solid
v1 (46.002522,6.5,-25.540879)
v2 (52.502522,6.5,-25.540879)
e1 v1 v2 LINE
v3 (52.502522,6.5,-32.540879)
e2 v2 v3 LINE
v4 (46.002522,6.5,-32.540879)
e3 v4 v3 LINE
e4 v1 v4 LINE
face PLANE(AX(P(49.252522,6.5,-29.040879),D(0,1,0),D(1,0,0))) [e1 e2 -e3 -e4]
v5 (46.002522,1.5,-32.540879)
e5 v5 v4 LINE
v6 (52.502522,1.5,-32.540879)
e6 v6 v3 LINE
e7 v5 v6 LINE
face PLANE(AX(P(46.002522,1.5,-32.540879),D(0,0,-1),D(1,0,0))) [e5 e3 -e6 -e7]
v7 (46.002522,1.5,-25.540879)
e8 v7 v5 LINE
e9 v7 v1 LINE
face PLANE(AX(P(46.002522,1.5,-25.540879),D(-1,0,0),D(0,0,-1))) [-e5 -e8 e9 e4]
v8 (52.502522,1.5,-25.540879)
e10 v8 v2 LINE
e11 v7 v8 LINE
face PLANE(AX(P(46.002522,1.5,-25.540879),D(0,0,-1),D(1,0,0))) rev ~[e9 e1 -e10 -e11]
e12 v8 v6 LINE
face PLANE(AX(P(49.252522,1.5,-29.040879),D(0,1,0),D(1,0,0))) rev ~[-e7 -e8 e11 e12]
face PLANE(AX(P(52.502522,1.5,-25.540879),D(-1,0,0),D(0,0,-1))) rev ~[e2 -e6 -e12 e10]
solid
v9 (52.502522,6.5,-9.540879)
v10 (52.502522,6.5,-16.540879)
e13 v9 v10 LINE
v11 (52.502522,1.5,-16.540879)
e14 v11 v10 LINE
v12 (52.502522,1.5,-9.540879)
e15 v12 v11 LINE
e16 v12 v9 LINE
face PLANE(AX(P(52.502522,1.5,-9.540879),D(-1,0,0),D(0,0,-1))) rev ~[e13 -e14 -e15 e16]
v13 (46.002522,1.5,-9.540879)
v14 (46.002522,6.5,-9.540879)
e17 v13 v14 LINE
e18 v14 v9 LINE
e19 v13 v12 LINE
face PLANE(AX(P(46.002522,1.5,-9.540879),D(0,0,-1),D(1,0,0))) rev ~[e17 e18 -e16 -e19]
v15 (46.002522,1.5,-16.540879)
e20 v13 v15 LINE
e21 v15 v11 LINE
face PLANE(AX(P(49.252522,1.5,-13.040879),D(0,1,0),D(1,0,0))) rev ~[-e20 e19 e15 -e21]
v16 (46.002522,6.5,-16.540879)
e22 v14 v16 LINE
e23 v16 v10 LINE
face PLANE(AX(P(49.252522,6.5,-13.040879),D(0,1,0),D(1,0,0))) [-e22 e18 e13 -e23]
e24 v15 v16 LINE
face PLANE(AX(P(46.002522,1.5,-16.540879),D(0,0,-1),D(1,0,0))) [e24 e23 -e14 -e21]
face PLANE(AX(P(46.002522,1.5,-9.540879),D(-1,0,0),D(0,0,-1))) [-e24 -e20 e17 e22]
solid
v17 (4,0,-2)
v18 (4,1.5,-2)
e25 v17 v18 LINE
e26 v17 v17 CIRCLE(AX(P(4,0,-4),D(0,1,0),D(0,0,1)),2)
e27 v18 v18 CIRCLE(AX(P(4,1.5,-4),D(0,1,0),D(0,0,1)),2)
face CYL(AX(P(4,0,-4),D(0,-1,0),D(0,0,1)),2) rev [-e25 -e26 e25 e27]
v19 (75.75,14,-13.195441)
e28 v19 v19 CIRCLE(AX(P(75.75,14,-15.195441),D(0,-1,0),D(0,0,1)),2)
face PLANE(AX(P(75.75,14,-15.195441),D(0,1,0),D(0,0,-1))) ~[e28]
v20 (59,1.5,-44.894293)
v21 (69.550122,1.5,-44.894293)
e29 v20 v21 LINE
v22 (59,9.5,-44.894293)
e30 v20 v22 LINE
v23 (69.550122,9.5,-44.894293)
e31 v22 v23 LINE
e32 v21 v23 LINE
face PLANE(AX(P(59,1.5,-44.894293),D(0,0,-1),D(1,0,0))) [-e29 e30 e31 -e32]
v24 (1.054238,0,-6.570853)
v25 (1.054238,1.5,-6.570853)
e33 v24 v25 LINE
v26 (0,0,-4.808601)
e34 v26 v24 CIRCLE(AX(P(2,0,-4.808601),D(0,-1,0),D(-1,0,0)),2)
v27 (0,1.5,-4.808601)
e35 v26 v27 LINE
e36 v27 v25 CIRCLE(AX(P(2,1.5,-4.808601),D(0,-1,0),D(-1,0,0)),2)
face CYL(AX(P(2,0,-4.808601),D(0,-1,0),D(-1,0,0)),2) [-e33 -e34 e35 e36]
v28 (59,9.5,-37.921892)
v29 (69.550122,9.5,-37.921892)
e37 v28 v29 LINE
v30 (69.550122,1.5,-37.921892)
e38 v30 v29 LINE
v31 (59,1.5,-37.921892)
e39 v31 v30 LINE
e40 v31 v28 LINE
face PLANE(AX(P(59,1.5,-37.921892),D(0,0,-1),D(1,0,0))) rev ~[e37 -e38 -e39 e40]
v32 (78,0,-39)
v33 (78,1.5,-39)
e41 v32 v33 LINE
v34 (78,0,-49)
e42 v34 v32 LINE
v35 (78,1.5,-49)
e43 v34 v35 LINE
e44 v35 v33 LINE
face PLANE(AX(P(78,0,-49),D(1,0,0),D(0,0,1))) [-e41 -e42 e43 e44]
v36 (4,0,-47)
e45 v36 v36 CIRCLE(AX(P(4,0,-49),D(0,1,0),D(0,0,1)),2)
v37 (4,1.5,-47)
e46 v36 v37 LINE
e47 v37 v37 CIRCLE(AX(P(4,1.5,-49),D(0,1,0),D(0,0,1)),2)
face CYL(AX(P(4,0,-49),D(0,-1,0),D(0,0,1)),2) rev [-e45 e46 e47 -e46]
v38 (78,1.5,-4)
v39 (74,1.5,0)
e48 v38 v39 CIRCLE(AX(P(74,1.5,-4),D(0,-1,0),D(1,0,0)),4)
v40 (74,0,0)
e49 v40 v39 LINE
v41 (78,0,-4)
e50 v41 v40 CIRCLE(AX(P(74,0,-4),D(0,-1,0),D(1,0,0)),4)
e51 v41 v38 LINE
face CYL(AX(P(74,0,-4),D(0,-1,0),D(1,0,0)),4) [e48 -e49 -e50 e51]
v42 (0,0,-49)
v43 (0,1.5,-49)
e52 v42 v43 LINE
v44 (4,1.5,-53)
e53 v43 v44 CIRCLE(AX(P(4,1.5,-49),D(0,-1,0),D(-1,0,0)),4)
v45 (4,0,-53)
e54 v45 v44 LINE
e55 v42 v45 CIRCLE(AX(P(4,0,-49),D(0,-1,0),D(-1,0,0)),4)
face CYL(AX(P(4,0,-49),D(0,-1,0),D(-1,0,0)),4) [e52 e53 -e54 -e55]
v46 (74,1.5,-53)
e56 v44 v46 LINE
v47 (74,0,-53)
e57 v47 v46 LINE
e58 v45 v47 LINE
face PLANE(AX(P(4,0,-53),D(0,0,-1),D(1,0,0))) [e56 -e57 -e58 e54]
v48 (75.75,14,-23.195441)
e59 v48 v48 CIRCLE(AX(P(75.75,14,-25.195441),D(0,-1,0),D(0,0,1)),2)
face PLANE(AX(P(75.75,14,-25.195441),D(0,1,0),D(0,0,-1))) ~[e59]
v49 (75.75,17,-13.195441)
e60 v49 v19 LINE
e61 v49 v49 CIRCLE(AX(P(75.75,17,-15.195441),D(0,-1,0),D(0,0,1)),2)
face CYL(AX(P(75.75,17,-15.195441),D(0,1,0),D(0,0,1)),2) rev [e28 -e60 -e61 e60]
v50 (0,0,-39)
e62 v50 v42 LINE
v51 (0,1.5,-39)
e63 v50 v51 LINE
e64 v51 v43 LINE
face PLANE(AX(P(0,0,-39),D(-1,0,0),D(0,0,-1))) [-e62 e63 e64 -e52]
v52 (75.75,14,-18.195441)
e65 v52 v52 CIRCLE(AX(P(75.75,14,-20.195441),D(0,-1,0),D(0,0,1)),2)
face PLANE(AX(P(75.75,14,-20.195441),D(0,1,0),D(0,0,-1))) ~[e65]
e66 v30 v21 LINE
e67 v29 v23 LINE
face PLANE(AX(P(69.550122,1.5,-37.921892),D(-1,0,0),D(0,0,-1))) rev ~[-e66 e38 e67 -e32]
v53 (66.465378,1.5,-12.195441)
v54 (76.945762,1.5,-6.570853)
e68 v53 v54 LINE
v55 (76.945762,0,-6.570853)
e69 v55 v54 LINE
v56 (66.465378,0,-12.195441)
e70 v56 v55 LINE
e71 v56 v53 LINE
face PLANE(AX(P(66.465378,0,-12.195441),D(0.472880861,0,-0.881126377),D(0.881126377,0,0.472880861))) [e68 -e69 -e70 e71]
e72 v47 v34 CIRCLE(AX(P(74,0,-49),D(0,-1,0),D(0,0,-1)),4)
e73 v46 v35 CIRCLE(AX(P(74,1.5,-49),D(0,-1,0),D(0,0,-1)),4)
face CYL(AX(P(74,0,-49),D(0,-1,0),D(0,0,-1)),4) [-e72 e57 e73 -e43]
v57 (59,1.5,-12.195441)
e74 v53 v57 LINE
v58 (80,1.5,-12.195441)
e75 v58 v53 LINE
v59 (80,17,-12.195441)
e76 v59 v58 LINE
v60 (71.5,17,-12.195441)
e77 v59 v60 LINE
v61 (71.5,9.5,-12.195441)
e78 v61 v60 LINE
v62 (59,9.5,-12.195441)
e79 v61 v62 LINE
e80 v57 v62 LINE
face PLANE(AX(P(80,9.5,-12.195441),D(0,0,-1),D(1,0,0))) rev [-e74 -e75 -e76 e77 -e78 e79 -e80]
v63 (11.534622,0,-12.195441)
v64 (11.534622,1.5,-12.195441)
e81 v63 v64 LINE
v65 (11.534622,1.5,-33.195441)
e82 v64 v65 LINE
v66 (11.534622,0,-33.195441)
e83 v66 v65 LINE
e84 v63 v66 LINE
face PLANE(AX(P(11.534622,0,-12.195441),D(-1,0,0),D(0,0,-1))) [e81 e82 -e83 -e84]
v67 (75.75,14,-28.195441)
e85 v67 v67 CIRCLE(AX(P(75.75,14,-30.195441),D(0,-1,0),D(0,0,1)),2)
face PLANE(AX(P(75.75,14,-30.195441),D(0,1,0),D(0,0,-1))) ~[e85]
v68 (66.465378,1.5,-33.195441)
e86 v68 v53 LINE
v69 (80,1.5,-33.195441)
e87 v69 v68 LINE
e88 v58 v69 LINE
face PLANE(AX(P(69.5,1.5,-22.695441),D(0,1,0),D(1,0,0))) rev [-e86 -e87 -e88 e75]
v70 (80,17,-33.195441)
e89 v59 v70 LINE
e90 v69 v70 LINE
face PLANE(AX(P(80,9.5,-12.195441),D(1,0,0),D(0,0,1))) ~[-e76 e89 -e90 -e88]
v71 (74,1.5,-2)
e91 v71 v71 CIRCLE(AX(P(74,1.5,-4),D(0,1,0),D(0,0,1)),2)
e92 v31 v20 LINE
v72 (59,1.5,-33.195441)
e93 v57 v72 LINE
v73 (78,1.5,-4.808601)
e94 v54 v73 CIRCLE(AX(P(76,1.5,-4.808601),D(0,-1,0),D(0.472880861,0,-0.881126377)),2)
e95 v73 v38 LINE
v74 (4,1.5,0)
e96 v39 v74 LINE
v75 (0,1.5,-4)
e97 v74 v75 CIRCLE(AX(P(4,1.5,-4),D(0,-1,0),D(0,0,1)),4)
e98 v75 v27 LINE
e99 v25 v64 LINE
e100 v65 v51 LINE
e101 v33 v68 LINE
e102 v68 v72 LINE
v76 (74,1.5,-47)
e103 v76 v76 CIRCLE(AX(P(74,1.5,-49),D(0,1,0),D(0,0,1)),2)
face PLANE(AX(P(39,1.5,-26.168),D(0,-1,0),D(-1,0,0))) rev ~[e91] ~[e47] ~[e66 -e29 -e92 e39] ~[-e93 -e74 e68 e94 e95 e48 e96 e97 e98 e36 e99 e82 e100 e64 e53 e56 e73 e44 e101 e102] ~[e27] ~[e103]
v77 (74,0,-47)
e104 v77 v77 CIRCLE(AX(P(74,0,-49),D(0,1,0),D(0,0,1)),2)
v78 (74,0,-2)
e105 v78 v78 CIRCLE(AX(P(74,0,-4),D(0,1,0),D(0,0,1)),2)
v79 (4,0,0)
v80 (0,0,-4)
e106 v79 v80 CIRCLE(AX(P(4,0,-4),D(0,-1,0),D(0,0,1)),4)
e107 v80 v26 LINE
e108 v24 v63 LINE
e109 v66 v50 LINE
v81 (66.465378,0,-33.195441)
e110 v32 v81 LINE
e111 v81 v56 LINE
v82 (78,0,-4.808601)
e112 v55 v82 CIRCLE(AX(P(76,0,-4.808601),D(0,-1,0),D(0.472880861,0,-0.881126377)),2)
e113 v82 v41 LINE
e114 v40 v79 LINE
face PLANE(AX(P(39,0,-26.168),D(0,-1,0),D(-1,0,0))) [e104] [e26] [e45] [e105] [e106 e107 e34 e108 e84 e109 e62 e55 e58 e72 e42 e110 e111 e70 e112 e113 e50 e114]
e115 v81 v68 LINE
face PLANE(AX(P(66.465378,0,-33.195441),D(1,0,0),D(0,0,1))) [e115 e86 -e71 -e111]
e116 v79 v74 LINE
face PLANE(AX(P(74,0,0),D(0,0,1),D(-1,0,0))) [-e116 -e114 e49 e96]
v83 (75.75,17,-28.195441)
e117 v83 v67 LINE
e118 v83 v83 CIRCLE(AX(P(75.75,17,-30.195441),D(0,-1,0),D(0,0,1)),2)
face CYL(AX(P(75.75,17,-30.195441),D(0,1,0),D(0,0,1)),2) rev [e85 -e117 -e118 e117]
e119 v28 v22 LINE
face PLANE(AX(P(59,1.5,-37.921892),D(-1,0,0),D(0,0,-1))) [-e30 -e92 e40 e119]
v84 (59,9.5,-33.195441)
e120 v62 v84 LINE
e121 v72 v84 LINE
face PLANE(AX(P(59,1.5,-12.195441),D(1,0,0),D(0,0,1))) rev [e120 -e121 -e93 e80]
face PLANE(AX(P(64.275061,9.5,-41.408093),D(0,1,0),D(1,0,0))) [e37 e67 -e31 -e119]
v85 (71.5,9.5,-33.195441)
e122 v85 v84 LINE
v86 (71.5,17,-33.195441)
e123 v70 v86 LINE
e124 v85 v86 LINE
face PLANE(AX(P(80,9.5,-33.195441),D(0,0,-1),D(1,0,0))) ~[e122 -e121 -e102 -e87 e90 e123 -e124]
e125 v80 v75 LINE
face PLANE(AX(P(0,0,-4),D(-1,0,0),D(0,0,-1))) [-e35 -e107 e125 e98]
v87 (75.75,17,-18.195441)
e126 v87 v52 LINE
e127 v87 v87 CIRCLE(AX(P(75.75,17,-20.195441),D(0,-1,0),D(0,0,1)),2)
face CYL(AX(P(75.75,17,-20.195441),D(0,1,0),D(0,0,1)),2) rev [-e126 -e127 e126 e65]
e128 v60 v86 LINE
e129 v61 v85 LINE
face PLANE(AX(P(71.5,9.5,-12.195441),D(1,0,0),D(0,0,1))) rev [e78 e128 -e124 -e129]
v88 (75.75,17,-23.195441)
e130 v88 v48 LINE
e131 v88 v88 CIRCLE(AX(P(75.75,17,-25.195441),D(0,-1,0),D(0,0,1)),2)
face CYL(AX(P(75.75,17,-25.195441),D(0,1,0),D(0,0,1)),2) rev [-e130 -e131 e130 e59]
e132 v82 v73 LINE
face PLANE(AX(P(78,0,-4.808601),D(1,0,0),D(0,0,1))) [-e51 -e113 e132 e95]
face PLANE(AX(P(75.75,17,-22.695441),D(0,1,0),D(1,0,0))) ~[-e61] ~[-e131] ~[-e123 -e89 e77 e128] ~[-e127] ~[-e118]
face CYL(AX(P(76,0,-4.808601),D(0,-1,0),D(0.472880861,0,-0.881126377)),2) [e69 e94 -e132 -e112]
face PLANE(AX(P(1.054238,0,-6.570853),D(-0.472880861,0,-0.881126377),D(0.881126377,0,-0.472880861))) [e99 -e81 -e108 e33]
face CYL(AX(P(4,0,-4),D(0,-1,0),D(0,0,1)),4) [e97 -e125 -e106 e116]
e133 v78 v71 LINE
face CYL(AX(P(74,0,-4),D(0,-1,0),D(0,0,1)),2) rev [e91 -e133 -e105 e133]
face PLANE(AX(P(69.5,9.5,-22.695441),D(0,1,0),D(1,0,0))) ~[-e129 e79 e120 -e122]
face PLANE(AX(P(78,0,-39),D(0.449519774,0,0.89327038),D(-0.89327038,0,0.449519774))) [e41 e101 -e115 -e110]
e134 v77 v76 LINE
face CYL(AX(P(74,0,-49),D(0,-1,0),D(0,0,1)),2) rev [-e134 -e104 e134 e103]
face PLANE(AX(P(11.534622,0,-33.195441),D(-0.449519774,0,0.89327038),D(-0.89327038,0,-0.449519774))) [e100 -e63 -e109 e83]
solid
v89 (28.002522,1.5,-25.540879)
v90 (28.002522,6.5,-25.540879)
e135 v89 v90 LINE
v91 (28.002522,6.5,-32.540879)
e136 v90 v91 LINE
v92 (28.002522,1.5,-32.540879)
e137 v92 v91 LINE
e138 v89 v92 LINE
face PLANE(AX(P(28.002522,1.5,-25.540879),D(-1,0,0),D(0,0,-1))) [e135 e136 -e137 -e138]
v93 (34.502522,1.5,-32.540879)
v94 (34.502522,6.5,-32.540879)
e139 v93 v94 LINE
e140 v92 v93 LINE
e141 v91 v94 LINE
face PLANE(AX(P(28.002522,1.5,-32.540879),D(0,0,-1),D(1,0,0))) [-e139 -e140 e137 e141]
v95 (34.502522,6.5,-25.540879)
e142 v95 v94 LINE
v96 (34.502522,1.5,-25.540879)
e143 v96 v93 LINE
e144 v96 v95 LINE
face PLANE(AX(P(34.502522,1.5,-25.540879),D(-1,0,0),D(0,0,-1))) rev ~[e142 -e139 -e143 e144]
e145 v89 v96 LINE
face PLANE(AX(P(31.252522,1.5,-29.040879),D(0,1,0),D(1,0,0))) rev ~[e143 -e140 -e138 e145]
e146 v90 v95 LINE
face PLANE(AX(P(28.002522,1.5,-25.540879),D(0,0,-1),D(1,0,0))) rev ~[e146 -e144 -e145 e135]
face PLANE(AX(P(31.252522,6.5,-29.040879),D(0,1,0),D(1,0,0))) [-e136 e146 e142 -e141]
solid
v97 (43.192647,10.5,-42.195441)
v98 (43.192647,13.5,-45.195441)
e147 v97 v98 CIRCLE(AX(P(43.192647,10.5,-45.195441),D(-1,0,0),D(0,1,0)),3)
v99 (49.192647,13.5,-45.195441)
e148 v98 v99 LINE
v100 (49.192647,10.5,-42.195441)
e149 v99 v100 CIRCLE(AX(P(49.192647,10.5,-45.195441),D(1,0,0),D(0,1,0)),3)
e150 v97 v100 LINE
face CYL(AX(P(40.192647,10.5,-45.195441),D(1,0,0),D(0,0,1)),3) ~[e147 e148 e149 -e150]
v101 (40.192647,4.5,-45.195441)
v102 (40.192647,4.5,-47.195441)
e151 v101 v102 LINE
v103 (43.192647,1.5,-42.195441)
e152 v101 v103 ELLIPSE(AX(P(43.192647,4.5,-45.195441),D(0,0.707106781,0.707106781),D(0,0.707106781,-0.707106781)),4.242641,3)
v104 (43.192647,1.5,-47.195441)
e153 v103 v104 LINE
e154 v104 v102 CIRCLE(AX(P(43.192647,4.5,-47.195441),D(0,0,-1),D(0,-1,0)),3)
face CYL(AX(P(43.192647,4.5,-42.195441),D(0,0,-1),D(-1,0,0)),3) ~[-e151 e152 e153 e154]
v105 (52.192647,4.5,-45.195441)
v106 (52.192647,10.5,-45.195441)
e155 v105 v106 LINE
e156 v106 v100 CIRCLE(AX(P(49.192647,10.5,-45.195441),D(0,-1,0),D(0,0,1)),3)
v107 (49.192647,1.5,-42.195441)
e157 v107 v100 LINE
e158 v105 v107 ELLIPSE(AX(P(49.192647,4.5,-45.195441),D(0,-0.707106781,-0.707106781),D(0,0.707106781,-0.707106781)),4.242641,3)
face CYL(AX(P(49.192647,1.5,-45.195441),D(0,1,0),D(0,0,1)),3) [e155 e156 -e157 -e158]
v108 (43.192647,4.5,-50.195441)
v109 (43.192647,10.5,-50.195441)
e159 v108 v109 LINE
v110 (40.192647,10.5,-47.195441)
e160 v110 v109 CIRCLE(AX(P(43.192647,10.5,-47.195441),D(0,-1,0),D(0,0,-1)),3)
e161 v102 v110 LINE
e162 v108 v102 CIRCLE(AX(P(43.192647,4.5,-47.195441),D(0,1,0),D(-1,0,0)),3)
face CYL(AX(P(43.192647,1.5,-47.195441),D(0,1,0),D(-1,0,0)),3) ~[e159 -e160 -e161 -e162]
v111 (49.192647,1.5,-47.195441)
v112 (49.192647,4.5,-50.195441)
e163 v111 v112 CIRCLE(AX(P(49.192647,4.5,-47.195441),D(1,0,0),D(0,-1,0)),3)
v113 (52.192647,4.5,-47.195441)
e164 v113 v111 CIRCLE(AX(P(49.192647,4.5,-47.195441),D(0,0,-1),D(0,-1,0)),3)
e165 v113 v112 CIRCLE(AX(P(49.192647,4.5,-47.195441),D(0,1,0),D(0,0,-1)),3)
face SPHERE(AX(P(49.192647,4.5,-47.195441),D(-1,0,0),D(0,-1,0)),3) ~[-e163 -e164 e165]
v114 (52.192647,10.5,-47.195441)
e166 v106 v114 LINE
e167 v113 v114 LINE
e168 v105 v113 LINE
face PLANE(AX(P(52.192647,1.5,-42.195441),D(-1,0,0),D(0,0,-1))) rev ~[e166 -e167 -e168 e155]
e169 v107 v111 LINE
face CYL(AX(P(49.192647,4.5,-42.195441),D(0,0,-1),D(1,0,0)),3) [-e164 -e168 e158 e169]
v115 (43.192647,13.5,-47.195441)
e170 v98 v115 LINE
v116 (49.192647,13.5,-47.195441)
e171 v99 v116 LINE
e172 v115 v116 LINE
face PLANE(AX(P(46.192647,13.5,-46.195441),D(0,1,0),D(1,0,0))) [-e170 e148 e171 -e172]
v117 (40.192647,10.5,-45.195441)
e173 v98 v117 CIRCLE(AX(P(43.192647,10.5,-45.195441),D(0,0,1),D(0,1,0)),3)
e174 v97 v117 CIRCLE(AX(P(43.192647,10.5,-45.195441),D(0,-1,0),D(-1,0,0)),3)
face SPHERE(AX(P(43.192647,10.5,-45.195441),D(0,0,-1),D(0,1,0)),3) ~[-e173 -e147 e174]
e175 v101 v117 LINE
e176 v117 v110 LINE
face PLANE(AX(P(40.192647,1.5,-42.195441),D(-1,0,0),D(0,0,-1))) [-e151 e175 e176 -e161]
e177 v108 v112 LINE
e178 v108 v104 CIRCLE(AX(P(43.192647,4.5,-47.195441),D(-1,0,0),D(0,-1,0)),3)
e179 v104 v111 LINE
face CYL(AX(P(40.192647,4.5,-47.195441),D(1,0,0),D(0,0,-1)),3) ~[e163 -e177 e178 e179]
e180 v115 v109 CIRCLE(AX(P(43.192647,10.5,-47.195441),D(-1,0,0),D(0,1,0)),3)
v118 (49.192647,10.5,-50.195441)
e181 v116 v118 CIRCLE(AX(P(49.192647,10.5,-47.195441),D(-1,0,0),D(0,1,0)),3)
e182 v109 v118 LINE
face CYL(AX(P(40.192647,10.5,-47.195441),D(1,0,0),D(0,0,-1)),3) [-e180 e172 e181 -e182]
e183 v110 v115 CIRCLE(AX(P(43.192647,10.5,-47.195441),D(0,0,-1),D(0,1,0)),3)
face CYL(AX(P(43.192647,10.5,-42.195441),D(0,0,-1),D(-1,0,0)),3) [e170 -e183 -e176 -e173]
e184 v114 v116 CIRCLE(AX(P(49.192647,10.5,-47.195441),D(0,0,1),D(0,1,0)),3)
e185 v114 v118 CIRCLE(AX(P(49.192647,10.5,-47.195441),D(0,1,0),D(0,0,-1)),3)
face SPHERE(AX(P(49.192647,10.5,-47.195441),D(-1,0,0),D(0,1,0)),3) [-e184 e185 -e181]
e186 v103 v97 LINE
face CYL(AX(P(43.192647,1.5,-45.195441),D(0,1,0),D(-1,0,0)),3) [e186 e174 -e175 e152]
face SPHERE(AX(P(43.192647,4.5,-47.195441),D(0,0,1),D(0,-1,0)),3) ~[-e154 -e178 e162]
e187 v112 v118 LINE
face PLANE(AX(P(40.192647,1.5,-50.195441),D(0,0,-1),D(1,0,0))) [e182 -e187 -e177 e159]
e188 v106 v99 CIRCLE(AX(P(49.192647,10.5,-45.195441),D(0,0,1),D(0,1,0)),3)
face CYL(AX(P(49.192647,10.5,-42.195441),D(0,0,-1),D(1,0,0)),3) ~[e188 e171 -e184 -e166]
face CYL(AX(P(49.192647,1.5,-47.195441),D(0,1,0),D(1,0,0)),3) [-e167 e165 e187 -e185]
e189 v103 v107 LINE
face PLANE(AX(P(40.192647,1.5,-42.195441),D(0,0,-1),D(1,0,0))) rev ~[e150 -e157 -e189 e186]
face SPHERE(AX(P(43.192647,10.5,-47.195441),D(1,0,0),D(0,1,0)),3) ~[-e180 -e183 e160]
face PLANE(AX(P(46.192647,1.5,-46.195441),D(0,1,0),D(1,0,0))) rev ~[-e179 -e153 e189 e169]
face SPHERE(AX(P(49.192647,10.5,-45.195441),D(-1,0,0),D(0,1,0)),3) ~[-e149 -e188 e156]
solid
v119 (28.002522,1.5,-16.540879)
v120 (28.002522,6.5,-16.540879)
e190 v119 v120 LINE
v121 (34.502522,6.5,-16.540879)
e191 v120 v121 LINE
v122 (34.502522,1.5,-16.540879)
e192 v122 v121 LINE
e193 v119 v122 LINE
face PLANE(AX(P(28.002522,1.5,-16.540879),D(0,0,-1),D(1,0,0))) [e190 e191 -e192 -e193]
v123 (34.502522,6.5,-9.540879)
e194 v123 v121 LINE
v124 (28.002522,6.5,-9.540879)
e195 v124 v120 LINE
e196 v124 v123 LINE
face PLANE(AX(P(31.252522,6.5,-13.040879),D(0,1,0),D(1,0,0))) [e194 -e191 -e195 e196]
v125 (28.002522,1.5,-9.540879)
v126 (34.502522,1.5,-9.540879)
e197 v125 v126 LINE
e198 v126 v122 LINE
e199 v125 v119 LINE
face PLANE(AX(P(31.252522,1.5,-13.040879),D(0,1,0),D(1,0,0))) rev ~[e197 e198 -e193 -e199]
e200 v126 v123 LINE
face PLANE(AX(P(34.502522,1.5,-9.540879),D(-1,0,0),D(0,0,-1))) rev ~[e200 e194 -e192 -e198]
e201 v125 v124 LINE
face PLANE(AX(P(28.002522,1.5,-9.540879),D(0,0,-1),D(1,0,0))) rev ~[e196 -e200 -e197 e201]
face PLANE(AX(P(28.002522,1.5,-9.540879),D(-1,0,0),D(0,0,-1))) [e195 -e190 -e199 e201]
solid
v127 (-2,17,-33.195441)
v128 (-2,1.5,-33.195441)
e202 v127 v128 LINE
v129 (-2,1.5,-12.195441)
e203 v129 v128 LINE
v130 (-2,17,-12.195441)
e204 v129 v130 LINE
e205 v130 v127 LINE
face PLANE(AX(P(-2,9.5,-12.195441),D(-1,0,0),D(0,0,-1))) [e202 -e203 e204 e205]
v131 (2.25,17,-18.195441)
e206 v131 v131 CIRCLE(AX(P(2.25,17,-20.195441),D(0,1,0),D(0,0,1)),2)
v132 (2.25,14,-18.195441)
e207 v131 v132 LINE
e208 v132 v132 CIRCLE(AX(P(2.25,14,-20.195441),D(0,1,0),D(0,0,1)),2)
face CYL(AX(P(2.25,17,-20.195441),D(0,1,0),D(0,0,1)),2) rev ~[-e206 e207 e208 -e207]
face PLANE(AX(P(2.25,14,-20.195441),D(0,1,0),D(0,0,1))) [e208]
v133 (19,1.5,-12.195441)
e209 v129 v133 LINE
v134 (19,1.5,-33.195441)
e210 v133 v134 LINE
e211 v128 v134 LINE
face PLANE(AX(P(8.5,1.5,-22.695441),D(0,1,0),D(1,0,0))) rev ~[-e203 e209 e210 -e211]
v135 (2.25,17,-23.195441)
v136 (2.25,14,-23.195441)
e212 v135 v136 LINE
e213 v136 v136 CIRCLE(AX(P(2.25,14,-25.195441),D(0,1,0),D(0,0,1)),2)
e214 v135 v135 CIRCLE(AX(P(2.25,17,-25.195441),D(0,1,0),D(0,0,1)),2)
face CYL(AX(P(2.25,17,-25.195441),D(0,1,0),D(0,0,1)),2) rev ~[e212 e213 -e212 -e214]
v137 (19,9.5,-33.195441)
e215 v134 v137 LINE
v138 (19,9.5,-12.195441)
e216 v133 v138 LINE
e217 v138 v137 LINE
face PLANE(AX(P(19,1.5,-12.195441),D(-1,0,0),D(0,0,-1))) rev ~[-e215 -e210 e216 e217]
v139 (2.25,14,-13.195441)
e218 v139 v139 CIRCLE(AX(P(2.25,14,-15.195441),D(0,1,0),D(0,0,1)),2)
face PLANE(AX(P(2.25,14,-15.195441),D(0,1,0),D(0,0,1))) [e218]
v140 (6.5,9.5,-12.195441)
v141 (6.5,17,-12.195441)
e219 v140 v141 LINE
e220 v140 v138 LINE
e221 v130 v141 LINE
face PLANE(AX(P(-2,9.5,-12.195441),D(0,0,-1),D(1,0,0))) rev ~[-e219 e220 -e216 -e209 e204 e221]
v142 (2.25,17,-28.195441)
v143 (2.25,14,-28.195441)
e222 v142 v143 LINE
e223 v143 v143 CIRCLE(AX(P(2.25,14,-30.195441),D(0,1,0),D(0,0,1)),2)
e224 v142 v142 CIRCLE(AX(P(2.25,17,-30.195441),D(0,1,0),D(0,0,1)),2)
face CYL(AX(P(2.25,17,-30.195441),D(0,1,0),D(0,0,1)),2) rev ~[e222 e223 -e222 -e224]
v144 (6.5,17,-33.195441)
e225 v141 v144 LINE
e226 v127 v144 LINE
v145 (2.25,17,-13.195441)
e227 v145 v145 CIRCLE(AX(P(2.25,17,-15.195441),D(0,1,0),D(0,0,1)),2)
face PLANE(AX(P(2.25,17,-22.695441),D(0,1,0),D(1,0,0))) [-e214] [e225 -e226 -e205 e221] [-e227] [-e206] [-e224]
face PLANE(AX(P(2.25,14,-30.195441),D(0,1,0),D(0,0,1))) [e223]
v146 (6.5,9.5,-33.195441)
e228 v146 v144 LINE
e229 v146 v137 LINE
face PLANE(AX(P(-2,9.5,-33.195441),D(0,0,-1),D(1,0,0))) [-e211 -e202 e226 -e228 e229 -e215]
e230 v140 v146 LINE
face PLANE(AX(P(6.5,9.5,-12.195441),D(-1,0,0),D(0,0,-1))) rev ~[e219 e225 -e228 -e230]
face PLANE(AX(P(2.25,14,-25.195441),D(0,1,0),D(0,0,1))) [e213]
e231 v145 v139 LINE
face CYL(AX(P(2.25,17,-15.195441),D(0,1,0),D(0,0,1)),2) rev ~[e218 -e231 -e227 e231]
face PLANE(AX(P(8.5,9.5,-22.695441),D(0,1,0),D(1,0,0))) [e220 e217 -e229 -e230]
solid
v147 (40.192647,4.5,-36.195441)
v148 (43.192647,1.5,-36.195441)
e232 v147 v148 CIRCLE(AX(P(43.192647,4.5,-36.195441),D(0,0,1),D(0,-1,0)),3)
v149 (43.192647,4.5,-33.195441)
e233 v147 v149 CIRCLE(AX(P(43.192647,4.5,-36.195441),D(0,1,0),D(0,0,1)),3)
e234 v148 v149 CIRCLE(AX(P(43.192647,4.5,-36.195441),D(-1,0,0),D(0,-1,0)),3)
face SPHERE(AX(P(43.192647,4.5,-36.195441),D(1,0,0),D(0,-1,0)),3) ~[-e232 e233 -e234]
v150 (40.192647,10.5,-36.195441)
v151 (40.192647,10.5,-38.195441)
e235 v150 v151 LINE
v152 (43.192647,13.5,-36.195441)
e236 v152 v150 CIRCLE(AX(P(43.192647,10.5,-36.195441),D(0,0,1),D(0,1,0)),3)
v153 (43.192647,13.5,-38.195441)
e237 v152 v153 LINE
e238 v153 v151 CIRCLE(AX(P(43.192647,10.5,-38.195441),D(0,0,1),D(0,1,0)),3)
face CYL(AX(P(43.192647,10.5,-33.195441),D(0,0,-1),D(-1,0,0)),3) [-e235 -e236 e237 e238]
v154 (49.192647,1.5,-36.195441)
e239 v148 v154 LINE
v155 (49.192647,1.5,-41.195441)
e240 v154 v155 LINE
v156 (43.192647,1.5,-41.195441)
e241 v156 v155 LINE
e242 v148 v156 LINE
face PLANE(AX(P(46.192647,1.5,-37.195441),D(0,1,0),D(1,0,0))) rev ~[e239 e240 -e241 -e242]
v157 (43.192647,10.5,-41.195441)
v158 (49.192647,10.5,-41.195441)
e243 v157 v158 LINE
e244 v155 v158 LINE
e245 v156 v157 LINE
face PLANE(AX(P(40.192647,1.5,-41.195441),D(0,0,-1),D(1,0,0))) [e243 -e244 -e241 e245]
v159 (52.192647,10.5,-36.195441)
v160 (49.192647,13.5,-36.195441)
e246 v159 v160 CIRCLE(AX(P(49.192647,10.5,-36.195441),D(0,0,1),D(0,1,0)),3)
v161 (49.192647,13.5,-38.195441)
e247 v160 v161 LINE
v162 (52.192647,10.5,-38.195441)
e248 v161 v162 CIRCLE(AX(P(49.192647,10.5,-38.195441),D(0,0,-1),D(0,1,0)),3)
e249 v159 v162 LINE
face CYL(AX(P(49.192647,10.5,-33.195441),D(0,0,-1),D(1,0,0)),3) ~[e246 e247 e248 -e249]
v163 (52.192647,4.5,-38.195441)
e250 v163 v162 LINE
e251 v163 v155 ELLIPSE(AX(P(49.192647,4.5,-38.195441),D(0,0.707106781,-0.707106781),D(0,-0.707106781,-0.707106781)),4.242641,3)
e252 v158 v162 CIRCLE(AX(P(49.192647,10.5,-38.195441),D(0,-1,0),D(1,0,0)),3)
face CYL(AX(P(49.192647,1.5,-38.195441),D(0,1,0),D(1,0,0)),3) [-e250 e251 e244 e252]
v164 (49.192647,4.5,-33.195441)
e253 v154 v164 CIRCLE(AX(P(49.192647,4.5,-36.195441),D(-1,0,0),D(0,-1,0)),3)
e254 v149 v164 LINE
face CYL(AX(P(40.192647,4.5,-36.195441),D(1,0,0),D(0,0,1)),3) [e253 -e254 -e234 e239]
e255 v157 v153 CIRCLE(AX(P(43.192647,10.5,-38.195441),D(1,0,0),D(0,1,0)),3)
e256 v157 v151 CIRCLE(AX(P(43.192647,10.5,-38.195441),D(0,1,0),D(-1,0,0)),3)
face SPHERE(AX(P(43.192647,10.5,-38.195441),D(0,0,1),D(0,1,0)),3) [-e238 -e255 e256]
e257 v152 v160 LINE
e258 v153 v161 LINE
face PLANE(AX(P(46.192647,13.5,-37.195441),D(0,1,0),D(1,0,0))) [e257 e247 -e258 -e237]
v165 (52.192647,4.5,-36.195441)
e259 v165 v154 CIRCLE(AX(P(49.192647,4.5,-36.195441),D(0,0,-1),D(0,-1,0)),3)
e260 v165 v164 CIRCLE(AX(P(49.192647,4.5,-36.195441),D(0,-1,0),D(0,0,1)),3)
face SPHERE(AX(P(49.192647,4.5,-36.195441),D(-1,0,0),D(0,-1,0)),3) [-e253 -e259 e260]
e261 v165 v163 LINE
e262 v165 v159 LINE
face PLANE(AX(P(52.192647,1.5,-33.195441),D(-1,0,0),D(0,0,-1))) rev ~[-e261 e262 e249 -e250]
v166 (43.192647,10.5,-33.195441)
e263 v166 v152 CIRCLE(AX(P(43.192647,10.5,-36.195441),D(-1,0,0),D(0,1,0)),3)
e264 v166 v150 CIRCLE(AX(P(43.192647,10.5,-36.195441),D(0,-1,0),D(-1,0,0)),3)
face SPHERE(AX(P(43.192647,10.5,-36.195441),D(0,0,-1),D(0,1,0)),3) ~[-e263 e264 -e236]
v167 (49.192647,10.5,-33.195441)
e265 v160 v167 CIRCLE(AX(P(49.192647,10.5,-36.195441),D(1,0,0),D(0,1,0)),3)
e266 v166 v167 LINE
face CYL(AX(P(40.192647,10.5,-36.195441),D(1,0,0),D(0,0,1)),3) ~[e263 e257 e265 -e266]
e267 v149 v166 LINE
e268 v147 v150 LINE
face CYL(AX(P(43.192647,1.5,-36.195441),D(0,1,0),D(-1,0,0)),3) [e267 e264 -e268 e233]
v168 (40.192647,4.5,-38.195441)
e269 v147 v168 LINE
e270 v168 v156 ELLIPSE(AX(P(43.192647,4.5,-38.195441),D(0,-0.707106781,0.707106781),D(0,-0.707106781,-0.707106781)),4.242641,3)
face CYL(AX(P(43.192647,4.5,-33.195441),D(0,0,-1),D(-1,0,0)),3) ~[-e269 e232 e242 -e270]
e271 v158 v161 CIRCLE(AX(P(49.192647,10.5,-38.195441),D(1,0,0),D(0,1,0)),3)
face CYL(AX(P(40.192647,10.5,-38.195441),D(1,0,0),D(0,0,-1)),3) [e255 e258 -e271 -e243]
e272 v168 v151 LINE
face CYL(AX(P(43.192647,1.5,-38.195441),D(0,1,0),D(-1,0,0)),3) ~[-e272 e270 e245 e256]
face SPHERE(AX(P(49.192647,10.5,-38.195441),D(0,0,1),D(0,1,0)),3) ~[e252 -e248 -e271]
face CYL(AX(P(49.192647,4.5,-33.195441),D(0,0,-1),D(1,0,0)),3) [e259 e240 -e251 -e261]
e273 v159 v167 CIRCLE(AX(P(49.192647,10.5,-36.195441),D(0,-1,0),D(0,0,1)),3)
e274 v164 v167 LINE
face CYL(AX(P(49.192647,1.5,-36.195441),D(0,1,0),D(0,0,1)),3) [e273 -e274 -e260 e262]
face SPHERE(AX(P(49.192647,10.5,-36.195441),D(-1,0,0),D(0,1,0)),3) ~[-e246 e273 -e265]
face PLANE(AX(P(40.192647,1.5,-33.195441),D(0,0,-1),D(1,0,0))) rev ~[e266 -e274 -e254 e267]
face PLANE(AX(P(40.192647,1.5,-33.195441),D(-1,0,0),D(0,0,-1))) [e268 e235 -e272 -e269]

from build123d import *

# Parameters (mm, degrees)
SKETCH_1_R          = 2
EXTRUDE_1_DEPTH     = 1.5
SKETCH_2_W          = 21
SKETCH_2_H          = 21
EXTRUDE_2_DEPTH     = 8
SKETCH_3_W          = 8.5
SKETCH_3_H          = 21
EXTRUDE_3_DEPTH     = 7.5
SKETCH_4_R          = 2
CUT_EXTRUDE_1_DEPTH = 3
SKETCH_5_W          = 10.550121942
SKETCH_5_H          = 6.972400203
EXTRUDE_4_DEPTH     = 8
SKETCH_6_W          = 6.5
SKETCH_6_H          = 7
EXTRUDE_5_DEPTH     = 5
EXTRUDE_5_2_DEPTH   = 5
EXTRUDE_5_3_DEPTH   = 5
EXTRUDE_5_4_DEPTH   = 5
SKETCH_7_W          = 12
SKETCH_7_H          = 8
EXTRUDE_6_DEPTH     = 12
EXTRUDE_6_2_DEPTH   = 12
FILLET_1_R          = 3
FILLET_2_R          = 3


with BuildPart() as part:
    # 草图1 → 凸台-拉伸1 (new body)
    with BuildSketch(Plane(origin=(0, 0, 0), x_dir=(1, 0, 0), z_dir=(0, 1, 0))):
        with BuildLine():
            Line((0, 4), (0, 4.80860064))
            ThreePointArc((0, 4.80860064), (0.28367785, 5.835361702), (1.054238278, 6.570853393))
            Line((1.054238278, 6.570853393), (11.534621528, 12.195441177))
            Line((11.534621528, 12.195441177), (11.534621528, 33.195441177))
            Line((11.534621528, 33.195441177), (0, 39))
            Line((0, 39), (0, 49))
            ThreePointArc((0, 49), (1.171572875, 51.828427125), (4, 53))
            Line((4, 53), (74, 53))
            ThreePointArc((74, 53), (76.828427125, 51.828427125), (78, 49))
            Line((78, 49), (78, 39))
            Line((78, 39), (66.465378472, 33.195441177))
            Line((66.465378472, 33.195441177), (66.465378472, 12.195441177))
            Line((66.465378472, 12.195441177), (76.945761722, 6.570853393))
            ThreePointArc((76.945761722, 6.570853393), (77.71632215, 5.835361702), (78, 4.80860064))
            Line((78, 4.80860064), (78, 4))
            ThreePointArc((78, 4), (76.828427125, 1.171572875), (74, 0))
            Line((74, 0), (4, 0))
            ThreePointArc((4, 0), (1.171572875, 1.171572875), (0, 4))
        make_face()
        with Locations(Location((4, 49, 0), (0, 0, 270))):
            Circle(SKETCH_1_R, mode=Mode.SUBTRACT)
        with Locations(Location((4, 4, 0), (0, 0, 270))):
            Circle(SKETCH_1_R, mode=Mode.SUBTRACT)
        with Locations(Location((74, 49, 0), (0, 0, 270))):
            Circle(SKETCH_1_R, mode=Mode.SUBTRACT)
        with Locations(Location((74, 4, 0), (0, 0, 270))):
            Circle(SKETCH_1_R, mode=Mode.SUBTRACT)
    extrude(amount=EXTRUDE_1_DEPTH)


with BuildPart() as body_2:
    # 草图2 → 凸台-拉伸2 (new body)
    with BuildSketch(Plane(origin=(0, 1.5, 0), x_dir=(1, 0, 0), z_dir=(0, 1, 0))):
        with Locations((8.5, 22.695441177)):
            Rectangle(SKETCH_2_W, SKETCH_2_H)
    extrude_2 = extrude(amount=EXTRUDE_2_DEPTH)

    # 草图3 → 凸台-拉伸3 (add)
    with BuildSketch(Plane(origin=(0, 9.5, 0), x_dir=(1, 0, 0), z_dir=(0, 1, 0))):
        with Locations((2.25, 22.695441177)):
            Rectangle(SKETCH_3_W, SKETCH_3_H)
    extrude_3 = extrude(amount=EXTRUDE_3_DEPTH)

    # 草图4 → 切除-拉伸1 (cut)
    with BuildSketch(Plane(origin=(0, 17, 0), x_dir=(1, 0, 0), z_dir=(0, 1, 0))):
        with Locations(Location((2.25, 30.195441177, 0), (0, 0, 270))):
            Circle(SKETCH_4_R)
        with Locations(Location((2.25, 25.195441177, 0), (0, 0, 270))):
            Circle(SKETCH_4_R)
        with Locations(Location((2.25, 20.195441177, 0), (0, 0, 270))):
            Circle(SKETCH_4_R)
        with Locations(Location((2.25, 15.195441177, 0), (0, 0, 270))):
            Circle(SKETCH_4_R)
    cut_extrude_1 = extrude(amount=-CUT_EXTRUDE_1_DEPTH, mode=Mode.SUBTRACT)


with BuildPart() as part_1:
    add(part.part)

    # 镜向1: 凸台-拉伸2, 凸台-拉伸3, 切除-拉伸1 across plane
    add(extrude_2.mirror(Plane(origin=(39, 0, 0), x_dir=(0, 0, 1), z_dir=(1, 0, 0))))
    add(extrude_3.mirror(Plane(origin=(39, 0, 0), x_dir=(0, 0, 1), z_dir=(1, 0, 0))))
    add(cut_extrude_1.mirror(Plane(origin=(39, 0, 0), x_dir=(0, 0, 1), z_dir=(1, 0, 0))), mode=Mode.SUBTRACT)

    # 草图5 → 凸台-拉伸4 (add)
    with BuildSketch(Plane(origin=(0, 1.5, 0), x_dir=(1, 0, 0), z_dir=(0, 1, 0))):
        with Locations((64.275060971, 41.40809254)):
            Rectangle(SKETCH_5_W, SKETCH_5_H)
    extrude(amount=EXTRUDE_4_DEPTH)


with BuildPart() as body_3:
    # 草图6 → 凸台-拉伸5 (new body)
    with BuildSketch(Plane(origin=(0, 1.5, 0), x_dir=(1, 0, 0), z_dir=(0, 1, 0))):
        with Locations((31.252521601, 29.040878977)):
            Rectangle(SKETCH_6_W, SKETCH_6_H)
    extrude(amount=EXTRUDE_5_DEPTH)


with BuildPart() as body_4:
    # 草图6 → Extrude 5 2 (new body)
    with BuildSketch(Plane(origin=(0, 1.5, 0), x_dir=(1, 0, 0), z_dir=(0, 1, 0))):
        with Locations((49.252521601, 29.040878977)):
            Rectangle(SKETCH_6_W, SKETCH_6_H)
    extrude(amount=EXTRUDE_5_2_DEPTH)


with BuildPart() as body_5:
    # 草图6 → Extrude 5 3 (new body)
    with BuildSketch(Plane(origin=(0, 1.5, 0), x_dir=(1, 0, 0), z_dir=(0, 1, 0))):
        with Locations((49.252521601, 13.040878977)):
            Rectangle(SKETCH_6_W, SKETCH_6_H)
    extrude(amount=EXTRUDE_5_3_DEPTH)


with BuildPart() as body_6:
    # 草图6 → Extrude 5 4 (new body)
    with BuildSketch(Plane(origin=(0, 1.5, 0), x_dir=(1, 0, 0), z_dir=(0, 1, 0))):
        with Locations((31.252521601, 13.040878977)):
            Rectangle(SKETCH_6_W, SKETCH_6_H)
    extrude(amount=EXTRUDE_5_4_DEPTH)


with BuildPart() as body_7:
    # 草图7 → 凸台-拉伸6 (new body)
    with BuildSketch(Plane(origin=(0, 1.5, 0), x_dir=(1, 0, 0), z_dir=(0, 1, 0))):
        with Locations((46.192647403, 37.195441177)):
            Rectangle(SKETCH_7_W, SKETCH_7_H)
    extrude(amount=EXTRUDE_6_DEPTH)

    # 圆角2
    fillet_2_edges = [body_7.edges().sort_by_distance(p)[0] for p in [
        (40.192647403, 13.5, -37.195441177),
        (46.192647403, 13.5, -33.195441177),
        (52.192647403, 13.5, -37.195441177),
        (46.192647403, 1.5, -33.195441177),
        (40.192647403, 1.5, -37.195441177),
        (52.192647403, 1.5, -37.195441177),
        (46.192647403, 13.5, -41.195441177),
        (52.192647403, 7.5, -33.195441177),
        (40.192647403, 7.5, -33.195441177),
        (40.192647403, 7.5, -41.195441177),
        (52.192647403, 7.5, -41.195441177),
    ]]
    fillet(fillet_2_edges, radius=FILLET_2_R)


with BuildPart() as body_8:
    # 草图7 → Extrude 6 2 (new body)
    with BuildSketch(Plane(origin=(0, 1.5, 0), x_dir=(1, 0, 0), z_dir=(0, 1, 0))):
        with Locations((46.192647403, 46.195441177)):
            Rectangle(SKETCH_7_W, SKETCH_7_H)
    extrude(amount=EXTRUDE_6_2_DEPTH)

    # 圆角1
    fillet_1_edges = [body_8.edges().sort_by_distance(p)[0] for p in [
        (46.192647403, 13.5, -50.195441177),
        (40.192647403, 13.5, -46.195441177),
        (46.192647403, 13.5, -42.195441177),
        (40.192647403, 1.5, -46.195441177),
        (46.192647403, 1.5, -50.195441177),
        (52.192647403, 1.5, -46.195441177),
        (52.192647403, 13.5, -46.195441177),
        (40.192647403, 7.5, -42.195441177),
        (40.192647403, 7.5, -50.195441177),
        (52.192647403, 7.5, -50.195441177),
        (52.192647403, 7.5, -42.195441177),
    ]]
    fillet(fillet_1_edges, radius=FILLET_1_R)


solid = Compound([body_2.part, part_1.part, body_3.part, body_4.part, body_5.part, body_6.part, body_7.part, body_8.part])
